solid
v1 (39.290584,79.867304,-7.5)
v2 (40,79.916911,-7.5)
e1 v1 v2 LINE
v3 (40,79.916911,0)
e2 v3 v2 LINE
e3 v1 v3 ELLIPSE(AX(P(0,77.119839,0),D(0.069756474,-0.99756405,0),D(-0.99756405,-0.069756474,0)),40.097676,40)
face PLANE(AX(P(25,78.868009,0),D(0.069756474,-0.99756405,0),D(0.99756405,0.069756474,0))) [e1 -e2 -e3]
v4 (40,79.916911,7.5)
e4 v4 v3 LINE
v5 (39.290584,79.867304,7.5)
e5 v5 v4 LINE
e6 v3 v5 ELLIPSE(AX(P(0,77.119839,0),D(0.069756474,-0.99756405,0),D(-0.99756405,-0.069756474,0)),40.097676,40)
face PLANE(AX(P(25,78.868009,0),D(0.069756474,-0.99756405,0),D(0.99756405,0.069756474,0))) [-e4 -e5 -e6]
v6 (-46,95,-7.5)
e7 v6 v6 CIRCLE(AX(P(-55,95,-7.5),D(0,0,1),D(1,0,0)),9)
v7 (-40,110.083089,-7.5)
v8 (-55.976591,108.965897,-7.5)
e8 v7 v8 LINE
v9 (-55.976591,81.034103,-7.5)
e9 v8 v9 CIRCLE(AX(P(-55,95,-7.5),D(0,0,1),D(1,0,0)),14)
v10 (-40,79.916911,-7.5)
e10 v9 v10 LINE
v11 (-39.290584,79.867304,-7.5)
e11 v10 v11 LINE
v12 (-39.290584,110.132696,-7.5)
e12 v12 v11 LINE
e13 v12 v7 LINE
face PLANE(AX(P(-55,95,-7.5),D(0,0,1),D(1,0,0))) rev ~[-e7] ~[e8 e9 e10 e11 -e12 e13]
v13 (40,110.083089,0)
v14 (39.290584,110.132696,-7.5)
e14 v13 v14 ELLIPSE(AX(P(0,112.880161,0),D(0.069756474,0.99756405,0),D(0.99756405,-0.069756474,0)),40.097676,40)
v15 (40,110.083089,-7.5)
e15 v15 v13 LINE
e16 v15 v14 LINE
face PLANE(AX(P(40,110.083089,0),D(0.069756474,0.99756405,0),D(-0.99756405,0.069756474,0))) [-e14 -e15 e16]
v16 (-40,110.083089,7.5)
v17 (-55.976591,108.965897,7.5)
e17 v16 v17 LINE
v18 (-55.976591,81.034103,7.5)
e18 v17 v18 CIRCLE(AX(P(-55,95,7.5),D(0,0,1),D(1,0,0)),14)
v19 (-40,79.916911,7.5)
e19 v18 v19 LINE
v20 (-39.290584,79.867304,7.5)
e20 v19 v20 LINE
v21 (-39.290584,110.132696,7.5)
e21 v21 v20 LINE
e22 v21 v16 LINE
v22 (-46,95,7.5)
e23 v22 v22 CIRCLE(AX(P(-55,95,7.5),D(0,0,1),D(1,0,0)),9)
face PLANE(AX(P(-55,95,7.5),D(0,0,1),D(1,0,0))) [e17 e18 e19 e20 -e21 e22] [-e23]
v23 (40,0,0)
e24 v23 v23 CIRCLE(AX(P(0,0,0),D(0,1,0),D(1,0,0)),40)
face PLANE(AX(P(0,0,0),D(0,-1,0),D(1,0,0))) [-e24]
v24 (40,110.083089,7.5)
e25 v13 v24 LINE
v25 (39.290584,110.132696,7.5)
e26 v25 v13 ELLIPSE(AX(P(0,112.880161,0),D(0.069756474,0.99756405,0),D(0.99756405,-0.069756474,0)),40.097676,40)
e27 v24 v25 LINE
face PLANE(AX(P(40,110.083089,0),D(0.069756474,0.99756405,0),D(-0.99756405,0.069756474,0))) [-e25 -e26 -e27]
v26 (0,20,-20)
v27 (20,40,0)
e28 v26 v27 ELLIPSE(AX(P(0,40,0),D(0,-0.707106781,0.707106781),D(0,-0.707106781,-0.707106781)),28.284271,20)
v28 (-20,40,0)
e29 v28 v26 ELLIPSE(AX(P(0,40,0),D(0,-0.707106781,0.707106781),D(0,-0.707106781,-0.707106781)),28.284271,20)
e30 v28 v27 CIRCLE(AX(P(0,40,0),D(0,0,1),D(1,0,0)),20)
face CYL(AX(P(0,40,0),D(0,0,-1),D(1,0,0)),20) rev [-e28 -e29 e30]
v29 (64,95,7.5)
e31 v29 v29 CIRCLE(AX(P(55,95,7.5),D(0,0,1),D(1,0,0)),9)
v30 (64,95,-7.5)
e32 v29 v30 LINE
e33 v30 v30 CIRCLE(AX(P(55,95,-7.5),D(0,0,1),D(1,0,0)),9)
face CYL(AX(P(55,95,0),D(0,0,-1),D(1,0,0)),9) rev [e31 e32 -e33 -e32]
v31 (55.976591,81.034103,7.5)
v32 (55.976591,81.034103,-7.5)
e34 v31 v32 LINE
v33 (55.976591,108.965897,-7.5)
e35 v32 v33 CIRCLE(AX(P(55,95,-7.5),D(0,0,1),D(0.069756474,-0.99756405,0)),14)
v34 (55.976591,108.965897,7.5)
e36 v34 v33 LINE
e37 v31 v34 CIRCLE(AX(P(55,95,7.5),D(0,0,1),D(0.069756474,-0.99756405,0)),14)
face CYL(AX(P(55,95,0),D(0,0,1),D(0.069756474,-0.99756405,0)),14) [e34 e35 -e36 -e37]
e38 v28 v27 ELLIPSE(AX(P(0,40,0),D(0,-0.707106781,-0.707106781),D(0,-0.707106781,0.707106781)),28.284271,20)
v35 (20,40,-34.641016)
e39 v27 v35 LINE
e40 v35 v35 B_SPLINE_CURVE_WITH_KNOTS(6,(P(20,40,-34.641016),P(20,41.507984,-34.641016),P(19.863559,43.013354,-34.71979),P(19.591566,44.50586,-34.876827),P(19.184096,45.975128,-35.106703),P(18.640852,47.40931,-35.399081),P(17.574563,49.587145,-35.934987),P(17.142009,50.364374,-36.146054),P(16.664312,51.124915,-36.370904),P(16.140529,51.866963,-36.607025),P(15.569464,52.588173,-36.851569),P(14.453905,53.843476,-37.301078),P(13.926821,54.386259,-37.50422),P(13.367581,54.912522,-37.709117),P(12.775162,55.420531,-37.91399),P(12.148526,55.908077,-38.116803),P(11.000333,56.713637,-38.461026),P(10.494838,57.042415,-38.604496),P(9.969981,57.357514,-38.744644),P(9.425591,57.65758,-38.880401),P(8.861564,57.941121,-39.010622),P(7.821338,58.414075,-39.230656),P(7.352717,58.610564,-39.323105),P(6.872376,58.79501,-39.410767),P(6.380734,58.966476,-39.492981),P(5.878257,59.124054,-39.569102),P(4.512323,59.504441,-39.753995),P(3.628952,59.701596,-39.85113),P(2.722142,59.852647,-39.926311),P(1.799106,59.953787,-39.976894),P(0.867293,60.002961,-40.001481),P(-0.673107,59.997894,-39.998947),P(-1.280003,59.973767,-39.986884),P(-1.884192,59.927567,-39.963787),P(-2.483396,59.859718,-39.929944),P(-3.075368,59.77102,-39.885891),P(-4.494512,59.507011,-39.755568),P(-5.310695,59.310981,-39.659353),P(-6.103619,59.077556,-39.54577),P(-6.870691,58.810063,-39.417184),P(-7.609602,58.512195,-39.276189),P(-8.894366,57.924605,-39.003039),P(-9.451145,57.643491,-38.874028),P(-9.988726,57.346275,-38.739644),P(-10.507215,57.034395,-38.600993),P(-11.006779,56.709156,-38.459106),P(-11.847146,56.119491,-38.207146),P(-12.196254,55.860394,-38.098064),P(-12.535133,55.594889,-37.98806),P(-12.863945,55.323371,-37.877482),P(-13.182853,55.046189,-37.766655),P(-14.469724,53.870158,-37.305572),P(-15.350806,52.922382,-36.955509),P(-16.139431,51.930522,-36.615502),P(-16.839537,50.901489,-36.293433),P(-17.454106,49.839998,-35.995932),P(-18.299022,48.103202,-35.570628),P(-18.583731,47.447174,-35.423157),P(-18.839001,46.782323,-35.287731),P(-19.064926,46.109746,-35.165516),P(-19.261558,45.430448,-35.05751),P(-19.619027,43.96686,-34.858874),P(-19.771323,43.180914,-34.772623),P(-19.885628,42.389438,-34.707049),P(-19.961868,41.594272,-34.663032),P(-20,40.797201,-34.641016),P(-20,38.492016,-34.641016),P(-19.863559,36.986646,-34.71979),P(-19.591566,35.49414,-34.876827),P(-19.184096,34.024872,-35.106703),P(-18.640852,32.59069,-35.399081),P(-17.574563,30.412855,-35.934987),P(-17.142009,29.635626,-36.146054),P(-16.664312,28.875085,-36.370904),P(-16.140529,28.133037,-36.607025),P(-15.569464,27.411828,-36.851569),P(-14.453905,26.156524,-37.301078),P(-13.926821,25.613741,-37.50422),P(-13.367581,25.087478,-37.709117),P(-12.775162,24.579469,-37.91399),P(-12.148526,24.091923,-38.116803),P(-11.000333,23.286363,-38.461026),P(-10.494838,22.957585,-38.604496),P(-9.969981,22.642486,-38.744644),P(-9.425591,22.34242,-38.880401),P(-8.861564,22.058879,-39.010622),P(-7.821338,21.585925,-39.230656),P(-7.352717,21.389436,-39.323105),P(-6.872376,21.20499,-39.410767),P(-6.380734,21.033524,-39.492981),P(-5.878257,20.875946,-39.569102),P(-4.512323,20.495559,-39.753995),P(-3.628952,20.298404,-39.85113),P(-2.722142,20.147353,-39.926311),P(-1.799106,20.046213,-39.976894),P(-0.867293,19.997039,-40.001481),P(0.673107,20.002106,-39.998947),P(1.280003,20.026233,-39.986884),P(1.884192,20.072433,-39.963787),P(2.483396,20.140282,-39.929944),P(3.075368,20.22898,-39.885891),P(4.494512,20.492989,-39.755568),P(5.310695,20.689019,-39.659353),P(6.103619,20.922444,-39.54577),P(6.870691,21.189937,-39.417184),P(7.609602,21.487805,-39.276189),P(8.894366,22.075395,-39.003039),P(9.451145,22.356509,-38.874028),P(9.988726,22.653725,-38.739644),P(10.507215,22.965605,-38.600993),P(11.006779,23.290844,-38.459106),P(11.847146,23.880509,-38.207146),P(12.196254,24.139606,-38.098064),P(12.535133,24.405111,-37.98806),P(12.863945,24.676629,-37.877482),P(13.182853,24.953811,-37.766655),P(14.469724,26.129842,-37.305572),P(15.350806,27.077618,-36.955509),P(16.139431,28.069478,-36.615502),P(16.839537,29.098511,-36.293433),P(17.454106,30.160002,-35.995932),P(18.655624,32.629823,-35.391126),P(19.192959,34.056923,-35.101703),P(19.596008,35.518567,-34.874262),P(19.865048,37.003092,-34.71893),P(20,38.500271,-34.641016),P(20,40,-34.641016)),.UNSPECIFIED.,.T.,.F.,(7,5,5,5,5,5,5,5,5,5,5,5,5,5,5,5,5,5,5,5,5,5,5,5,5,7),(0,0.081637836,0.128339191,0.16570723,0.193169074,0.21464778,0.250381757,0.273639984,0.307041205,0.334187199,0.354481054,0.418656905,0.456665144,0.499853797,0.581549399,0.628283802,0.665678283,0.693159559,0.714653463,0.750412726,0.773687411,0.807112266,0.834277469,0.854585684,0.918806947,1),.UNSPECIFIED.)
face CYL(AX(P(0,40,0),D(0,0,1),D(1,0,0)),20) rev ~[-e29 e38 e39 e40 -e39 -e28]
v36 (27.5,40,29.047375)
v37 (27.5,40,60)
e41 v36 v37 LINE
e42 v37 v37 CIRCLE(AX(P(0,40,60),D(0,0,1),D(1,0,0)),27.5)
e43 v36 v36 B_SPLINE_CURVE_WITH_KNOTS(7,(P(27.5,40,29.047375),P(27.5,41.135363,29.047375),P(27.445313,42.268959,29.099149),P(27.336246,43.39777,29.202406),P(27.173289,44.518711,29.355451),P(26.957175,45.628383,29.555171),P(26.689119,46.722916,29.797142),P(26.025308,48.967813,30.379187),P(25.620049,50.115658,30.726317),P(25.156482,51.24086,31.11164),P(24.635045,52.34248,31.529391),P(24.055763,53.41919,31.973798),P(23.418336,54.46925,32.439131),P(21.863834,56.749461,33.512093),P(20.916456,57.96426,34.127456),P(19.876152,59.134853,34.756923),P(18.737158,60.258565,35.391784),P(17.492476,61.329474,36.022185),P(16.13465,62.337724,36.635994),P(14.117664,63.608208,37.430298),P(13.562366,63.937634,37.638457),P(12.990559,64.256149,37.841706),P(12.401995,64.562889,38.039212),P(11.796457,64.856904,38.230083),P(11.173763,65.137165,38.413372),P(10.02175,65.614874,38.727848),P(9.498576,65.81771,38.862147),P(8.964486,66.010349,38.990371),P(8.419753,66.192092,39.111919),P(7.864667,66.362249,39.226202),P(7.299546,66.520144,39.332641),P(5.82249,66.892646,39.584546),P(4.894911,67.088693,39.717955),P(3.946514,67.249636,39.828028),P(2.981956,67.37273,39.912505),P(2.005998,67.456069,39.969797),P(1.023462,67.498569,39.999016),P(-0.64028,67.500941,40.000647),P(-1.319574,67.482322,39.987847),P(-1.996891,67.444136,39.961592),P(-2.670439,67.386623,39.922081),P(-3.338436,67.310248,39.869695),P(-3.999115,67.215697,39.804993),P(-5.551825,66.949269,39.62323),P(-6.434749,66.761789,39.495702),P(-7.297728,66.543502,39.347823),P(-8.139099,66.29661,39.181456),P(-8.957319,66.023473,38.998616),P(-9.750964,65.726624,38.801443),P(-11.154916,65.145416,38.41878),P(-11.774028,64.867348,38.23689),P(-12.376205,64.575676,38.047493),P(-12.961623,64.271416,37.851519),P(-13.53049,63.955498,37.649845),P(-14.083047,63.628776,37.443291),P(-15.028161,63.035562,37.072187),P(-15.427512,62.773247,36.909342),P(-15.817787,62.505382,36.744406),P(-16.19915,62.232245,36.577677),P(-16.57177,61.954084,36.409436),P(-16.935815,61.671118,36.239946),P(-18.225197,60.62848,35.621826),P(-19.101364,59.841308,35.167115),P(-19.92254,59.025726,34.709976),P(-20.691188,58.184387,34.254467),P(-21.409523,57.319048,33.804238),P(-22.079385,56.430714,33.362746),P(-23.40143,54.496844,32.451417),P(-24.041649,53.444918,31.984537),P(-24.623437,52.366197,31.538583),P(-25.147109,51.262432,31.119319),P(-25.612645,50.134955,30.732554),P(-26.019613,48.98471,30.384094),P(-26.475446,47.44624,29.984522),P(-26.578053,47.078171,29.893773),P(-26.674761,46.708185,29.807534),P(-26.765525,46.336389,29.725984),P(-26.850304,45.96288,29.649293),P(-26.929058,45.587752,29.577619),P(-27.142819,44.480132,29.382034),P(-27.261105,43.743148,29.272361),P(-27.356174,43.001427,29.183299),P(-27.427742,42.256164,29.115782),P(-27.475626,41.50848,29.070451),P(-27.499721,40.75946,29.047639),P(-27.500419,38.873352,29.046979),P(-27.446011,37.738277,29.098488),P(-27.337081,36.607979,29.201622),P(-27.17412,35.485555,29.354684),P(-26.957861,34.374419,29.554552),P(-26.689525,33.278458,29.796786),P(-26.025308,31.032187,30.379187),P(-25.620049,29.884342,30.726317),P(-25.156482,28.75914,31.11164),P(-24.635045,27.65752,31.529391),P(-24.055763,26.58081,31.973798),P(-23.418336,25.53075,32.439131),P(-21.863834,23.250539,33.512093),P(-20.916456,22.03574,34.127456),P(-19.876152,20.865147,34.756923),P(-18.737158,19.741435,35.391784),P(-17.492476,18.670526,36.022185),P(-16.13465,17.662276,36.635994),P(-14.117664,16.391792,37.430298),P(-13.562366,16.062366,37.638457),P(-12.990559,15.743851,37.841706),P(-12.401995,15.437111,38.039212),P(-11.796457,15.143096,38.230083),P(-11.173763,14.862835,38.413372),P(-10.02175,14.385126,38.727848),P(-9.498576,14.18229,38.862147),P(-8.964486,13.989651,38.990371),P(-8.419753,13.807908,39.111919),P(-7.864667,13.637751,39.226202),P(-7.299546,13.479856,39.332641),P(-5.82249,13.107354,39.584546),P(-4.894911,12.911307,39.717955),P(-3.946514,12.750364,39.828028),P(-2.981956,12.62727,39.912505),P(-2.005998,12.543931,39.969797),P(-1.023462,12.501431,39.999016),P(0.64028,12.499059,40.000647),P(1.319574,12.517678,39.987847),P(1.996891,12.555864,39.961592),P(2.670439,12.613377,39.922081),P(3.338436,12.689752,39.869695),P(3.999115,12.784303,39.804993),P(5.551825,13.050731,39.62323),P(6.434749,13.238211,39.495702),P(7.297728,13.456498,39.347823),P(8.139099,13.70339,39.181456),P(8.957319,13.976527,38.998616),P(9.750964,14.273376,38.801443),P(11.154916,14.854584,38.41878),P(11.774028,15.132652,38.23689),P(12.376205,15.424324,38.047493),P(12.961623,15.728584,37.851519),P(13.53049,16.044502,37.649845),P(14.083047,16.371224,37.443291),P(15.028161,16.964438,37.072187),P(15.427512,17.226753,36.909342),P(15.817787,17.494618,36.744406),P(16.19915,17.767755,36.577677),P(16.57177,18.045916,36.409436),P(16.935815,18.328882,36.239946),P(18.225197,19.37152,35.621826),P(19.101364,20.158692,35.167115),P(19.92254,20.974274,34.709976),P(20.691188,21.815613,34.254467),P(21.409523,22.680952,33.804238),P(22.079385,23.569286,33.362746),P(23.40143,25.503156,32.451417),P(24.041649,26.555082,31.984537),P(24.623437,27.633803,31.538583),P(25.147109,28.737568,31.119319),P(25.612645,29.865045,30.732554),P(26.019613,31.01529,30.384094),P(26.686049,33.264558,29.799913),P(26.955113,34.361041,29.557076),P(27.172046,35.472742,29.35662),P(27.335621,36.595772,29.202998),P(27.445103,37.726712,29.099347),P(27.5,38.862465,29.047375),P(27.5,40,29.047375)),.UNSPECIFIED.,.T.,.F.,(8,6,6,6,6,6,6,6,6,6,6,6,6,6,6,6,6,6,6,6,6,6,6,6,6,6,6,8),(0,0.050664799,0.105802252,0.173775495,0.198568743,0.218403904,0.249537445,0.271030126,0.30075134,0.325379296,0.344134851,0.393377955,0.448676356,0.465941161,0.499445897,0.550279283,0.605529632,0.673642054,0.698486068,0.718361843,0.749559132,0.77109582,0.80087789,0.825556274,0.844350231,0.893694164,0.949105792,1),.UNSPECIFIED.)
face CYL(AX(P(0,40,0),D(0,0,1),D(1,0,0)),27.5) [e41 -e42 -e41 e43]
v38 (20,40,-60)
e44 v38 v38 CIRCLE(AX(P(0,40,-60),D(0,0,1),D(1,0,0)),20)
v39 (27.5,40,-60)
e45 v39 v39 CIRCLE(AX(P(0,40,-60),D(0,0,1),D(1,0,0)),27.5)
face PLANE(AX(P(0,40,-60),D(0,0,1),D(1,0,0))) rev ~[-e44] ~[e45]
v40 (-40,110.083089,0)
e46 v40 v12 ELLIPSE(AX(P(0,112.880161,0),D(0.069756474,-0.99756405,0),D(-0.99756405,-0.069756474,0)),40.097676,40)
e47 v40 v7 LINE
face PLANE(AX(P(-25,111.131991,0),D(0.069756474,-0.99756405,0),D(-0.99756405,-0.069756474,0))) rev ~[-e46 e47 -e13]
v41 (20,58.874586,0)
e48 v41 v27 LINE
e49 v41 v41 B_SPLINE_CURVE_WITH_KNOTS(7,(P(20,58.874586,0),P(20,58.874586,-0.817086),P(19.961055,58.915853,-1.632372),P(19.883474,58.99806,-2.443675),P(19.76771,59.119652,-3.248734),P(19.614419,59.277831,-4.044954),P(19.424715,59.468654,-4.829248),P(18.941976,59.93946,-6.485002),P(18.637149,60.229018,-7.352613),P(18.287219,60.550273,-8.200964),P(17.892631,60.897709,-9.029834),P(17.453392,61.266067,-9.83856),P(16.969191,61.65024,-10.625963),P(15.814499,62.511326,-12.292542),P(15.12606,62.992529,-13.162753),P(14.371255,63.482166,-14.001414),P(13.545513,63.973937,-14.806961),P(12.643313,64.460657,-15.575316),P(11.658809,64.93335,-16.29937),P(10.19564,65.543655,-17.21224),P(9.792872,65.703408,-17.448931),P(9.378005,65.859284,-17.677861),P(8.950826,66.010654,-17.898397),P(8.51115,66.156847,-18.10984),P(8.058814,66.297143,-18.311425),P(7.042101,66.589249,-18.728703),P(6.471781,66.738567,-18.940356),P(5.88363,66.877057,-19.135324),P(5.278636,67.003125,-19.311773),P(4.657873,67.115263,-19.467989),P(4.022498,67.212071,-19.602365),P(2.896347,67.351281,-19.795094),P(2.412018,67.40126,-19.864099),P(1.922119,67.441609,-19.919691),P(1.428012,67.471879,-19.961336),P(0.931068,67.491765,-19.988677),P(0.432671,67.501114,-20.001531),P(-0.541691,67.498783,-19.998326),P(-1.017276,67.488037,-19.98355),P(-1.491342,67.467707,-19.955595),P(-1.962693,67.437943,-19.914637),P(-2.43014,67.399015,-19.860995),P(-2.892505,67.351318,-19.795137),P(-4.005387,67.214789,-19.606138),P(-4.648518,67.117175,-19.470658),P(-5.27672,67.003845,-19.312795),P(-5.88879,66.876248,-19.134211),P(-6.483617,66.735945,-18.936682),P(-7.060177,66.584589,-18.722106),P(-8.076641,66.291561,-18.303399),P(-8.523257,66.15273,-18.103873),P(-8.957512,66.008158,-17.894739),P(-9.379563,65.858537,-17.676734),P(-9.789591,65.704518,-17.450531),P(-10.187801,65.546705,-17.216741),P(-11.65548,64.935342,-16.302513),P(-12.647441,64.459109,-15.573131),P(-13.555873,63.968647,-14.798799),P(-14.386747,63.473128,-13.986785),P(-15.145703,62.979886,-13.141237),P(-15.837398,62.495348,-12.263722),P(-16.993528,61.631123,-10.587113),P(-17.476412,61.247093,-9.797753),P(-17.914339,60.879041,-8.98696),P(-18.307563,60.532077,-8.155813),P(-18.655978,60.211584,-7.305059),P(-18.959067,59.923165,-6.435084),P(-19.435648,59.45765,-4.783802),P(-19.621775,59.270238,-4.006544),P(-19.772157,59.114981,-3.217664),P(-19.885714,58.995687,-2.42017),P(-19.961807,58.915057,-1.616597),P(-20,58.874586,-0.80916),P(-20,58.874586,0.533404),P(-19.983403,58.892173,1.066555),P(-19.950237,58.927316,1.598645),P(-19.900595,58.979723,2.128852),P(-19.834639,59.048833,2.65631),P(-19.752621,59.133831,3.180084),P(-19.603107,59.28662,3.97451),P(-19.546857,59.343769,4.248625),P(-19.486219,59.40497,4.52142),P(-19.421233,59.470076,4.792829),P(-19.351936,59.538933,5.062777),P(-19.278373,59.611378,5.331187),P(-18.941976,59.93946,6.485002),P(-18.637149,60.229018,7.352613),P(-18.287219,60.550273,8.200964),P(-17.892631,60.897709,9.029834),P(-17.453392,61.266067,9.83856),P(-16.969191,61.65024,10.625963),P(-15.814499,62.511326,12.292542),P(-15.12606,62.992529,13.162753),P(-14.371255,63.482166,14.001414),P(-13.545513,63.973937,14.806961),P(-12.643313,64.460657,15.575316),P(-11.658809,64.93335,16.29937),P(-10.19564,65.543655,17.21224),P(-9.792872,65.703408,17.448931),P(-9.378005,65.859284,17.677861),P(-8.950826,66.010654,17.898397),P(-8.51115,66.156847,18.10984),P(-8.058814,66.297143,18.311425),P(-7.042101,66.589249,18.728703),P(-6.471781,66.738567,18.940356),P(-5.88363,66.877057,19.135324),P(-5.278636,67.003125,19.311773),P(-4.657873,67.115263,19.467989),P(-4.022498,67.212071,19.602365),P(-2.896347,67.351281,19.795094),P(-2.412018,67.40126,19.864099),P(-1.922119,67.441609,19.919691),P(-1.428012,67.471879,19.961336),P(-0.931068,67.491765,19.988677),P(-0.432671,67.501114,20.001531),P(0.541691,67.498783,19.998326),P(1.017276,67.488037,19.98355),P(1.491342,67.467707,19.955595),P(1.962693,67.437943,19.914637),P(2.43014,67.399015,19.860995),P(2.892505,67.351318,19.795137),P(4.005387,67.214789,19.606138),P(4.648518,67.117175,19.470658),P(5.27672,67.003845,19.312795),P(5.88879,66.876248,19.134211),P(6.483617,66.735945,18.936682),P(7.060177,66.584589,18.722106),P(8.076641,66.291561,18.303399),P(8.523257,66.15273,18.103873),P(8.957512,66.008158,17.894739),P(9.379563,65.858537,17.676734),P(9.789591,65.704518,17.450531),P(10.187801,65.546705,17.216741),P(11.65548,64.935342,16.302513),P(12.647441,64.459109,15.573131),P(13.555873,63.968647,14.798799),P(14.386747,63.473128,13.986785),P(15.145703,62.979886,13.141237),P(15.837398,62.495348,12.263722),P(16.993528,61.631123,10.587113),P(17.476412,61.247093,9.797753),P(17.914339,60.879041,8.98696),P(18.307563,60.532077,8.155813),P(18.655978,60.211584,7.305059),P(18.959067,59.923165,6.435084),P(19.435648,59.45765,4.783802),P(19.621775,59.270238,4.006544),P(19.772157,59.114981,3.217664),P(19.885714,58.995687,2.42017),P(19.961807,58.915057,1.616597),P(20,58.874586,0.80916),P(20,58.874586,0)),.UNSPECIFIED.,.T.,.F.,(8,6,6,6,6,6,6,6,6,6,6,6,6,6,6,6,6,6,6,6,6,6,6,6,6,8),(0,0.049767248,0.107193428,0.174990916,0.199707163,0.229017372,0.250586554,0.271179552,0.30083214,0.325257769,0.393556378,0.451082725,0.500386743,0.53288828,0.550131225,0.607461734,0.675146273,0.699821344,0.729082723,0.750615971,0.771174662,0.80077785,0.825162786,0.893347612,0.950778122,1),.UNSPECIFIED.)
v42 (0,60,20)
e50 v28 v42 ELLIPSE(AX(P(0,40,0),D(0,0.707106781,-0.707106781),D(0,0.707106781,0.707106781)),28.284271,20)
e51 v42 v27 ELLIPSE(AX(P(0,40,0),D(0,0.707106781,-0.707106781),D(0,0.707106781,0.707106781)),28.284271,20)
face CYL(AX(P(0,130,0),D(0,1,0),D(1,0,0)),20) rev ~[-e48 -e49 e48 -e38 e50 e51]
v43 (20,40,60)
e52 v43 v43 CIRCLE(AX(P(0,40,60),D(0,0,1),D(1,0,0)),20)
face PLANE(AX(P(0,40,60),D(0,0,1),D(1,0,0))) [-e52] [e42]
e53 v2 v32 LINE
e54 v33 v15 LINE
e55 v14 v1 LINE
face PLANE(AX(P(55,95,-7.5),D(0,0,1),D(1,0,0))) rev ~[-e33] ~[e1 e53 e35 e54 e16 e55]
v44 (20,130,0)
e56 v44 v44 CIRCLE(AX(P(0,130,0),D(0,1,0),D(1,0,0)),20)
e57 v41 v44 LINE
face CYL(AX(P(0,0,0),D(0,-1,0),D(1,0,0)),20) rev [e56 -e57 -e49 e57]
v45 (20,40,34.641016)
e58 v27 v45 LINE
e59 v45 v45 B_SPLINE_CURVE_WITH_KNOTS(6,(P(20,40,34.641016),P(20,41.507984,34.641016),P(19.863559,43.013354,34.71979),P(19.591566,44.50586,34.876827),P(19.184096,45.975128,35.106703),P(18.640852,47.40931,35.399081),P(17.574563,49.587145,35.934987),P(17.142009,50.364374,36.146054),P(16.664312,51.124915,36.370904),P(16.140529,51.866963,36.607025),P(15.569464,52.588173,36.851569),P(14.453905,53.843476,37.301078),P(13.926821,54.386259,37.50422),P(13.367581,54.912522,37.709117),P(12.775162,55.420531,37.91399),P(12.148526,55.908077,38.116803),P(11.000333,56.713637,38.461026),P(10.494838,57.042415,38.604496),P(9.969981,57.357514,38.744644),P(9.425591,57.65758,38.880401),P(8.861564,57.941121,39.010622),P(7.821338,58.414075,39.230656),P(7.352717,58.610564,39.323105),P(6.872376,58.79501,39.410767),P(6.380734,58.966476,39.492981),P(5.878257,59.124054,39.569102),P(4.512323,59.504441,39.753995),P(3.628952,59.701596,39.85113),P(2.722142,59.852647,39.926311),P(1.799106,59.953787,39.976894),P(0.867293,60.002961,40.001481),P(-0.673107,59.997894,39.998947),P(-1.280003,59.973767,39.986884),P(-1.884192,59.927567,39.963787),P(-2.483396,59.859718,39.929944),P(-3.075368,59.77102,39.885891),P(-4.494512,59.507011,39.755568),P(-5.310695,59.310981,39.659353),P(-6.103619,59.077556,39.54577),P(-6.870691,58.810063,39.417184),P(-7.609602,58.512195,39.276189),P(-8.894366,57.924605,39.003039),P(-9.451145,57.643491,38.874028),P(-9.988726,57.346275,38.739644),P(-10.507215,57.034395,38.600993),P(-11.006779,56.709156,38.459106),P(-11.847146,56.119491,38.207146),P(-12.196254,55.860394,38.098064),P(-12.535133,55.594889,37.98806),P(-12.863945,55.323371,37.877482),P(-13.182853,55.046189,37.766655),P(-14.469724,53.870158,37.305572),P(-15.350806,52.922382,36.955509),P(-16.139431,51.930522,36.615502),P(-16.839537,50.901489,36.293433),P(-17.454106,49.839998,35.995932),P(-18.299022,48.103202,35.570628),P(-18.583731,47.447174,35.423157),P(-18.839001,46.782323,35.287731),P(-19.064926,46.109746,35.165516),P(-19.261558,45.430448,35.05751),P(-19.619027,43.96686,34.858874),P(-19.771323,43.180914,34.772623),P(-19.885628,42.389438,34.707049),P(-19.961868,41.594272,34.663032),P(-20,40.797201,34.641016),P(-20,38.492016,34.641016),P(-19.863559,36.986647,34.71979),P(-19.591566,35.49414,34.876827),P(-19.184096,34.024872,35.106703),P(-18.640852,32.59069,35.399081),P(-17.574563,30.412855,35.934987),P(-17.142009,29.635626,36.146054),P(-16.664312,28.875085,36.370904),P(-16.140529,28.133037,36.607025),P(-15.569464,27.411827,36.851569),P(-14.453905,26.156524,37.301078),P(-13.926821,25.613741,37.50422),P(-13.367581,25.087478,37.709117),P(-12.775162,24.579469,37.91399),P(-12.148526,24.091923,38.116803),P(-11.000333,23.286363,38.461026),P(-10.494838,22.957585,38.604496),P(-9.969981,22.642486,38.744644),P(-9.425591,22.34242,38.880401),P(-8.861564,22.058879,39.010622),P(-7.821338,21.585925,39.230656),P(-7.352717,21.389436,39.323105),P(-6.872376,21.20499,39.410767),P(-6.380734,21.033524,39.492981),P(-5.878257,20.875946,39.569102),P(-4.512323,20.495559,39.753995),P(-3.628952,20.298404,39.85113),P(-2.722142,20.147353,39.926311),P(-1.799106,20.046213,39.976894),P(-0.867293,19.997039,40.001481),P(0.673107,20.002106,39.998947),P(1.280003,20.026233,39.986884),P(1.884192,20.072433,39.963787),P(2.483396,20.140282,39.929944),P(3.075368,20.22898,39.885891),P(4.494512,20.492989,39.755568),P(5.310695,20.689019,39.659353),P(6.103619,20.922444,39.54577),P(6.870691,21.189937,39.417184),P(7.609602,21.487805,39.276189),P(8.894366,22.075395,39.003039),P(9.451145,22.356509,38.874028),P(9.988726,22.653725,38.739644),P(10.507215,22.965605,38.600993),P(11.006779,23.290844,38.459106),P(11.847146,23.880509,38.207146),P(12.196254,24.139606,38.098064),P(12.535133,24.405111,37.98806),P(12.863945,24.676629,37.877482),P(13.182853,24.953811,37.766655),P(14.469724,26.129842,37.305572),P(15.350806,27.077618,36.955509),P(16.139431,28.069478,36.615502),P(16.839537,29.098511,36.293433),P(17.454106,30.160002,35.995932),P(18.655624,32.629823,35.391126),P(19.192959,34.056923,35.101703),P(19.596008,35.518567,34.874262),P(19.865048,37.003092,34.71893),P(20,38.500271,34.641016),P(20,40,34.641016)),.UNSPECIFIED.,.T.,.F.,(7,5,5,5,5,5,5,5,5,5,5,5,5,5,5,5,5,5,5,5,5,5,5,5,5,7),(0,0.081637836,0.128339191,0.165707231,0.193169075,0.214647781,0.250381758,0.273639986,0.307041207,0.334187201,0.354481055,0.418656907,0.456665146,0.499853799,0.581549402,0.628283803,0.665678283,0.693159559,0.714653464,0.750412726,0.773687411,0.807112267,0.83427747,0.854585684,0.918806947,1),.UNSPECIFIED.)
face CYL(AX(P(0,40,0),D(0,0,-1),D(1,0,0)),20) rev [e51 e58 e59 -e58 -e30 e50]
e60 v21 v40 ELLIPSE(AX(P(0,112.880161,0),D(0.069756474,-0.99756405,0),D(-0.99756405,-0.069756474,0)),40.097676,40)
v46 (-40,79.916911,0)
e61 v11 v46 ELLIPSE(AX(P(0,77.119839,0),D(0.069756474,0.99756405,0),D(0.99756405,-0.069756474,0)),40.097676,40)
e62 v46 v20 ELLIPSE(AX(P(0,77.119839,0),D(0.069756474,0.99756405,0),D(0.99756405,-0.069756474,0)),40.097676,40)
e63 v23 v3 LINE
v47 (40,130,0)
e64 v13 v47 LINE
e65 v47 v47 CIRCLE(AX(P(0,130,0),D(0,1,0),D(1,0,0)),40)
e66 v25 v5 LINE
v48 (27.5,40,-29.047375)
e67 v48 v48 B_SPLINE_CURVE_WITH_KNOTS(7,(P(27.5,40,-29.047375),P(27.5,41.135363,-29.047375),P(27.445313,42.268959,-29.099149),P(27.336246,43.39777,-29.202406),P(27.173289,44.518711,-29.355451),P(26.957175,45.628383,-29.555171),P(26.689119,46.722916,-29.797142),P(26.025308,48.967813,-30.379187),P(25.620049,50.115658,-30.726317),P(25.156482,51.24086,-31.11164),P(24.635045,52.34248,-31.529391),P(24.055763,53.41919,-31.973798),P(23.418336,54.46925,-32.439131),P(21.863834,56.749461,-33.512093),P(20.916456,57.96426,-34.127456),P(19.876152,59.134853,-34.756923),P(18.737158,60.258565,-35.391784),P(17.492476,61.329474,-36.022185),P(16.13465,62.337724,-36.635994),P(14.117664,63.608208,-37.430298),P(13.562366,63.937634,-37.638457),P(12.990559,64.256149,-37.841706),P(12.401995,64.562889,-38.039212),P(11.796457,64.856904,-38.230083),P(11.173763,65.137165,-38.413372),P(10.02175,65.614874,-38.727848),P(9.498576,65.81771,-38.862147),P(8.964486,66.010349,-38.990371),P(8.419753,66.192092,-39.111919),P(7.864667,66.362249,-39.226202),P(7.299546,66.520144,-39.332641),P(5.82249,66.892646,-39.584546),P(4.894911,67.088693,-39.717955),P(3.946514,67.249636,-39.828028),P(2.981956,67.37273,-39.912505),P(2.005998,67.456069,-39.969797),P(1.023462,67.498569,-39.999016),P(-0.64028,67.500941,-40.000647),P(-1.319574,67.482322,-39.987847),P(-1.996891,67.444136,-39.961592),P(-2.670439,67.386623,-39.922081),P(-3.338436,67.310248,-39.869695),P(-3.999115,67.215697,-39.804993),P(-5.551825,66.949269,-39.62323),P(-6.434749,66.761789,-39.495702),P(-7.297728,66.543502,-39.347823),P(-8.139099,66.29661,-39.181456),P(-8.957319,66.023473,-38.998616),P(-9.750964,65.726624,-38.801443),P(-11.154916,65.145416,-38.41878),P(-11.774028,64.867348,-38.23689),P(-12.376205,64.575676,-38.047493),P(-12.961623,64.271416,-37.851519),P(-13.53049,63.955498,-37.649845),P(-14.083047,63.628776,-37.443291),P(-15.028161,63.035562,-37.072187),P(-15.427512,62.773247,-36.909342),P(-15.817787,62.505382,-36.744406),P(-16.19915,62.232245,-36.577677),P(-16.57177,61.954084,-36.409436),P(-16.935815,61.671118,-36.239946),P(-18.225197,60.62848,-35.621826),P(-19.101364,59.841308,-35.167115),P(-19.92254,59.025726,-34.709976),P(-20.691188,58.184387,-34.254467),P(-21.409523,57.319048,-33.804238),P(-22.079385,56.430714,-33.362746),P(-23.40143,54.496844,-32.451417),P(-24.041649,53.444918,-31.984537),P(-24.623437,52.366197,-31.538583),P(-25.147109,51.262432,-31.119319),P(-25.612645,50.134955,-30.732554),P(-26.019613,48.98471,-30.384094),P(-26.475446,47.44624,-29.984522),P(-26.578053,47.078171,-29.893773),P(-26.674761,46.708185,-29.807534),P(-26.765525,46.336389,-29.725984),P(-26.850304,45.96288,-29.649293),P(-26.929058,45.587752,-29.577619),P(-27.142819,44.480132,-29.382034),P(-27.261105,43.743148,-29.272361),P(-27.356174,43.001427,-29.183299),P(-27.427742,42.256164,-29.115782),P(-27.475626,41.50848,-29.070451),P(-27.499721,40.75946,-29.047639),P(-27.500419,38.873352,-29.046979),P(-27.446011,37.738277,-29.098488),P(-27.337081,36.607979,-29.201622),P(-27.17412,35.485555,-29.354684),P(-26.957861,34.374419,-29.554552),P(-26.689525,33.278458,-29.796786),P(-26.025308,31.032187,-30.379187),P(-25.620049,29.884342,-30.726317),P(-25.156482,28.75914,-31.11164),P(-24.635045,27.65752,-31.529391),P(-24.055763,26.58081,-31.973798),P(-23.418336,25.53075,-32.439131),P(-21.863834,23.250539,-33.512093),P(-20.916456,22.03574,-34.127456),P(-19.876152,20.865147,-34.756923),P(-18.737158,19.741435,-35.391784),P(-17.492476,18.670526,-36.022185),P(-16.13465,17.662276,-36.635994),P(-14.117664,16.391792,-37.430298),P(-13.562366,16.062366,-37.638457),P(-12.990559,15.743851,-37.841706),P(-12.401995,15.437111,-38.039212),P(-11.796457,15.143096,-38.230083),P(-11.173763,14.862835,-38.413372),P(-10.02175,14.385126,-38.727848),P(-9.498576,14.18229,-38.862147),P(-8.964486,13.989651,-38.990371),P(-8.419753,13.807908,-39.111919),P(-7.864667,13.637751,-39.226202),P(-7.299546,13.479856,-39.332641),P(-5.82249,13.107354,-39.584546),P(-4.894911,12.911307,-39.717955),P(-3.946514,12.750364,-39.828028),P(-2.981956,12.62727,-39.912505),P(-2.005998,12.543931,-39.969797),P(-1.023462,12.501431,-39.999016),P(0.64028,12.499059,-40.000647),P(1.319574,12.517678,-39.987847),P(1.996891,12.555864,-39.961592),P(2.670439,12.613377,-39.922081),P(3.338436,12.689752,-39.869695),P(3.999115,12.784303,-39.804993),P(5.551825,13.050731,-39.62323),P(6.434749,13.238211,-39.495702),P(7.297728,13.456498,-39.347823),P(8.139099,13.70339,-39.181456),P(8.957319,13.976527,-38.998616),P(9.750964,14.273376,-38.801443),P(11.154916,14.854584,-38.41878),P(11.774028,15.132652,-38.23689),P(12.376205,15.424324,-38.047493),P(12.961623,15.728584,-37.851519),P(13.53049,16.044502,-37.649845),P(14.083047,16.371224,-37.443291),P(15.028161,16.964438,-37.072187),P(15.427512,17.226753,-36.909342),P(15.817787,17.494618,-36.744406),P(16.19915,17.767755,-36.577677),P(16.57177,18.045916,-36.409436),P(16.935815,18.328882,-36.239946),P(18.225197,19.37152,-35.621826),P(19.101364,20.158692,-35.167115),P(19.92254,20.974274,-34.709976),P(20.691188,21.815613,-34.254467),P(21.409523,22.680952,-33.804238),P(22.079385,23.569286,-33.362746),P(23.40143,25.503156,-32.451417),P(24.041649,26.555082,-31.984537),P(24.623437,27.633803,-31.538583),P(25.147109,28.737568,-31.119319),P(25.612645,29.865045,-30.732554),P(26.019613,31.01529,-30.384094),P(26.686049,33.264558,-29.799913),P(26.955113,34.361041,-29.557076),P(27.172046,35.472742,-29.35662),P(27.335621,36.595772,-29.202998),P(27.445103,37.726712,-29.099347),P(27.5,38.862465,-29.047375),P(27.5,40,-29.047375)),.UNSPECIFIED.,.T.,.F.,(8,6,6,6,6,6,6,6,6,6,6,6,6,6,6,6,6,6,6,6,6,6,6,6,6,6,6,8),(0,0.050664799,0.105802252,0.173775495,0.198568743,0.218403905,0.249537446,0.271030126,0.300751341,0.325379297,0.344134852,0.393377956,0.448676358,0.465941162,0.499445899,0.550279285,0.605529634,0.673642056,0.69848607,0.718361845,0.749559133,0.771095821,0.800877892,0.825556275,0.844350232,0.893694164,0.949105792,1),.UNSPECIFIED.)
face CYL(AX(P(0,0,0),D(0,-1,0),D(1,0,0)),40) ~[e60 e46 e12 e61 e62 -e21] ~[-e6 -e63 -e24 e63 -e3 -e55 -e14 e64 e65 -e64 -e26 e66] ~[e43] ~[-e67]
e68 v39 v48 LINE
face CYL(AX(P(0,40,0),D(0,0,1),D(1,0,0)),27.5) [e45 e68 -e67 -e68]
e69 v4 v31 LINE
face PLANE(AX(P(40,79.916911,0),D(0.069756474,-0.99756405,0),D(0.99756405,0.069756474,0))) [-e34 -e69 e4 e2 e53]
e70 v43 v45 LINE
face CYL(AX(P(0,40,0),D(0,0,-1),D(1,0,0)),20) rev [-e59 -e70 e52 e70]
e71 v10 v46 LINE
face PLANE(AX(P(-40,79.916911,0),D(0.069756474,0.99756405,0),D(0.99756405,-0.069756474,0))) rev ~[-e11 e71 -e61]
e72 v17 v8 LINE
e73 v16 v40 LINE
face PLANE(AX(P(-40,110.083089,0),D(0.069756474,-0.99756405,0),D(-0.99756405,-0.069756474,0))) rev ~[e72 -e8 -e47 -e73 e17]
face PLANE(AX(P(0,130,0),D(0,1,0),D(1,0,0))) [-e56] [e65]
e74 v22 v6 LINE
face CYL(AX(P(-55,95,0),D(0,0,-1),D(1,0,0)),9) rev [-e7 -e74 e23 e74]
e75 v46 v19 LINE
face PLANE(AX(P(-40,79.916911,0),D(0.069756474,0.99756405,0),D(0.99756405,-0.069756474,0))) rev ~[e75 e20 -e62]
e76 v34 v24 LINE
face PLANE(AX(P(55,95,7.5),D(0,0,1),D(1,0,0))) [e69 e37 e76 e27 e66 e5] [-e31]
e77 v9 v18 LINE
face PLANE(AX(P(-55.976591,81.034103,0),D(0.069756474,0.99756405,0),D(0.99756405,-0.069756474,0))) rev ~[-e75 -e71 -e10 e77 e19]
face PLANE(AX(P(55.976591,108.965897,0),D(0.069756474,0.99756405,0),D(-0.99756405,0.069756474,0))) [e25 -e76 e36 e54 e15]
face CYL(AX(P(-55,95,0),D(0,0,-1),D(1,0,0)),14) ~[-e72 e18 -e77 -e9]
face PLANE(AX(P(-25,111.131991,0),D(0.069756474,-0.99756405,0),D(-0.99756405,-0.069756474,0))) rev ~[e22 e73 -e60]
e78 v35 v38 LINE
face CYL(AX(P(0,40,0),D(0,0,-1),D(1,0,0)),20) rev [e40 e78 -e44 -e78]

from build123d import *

# Parameters (mm, degrees)
SKETCH1_R                      = 40
SKETCH1_R_2                    = 20
BOSS_EXTRUDE1_DEPTH            = 130
SKETCH2_R                      = 27.5
SKETCH2_R_2                    = 20
BOSS_EXTRUDE2_DEPTH            = 60
SKETCH2_2_R                    = 20
CUT_EXTRUDE1_DEPTH             = 61.0000001
CUT_EXTRUDE1_DEPTH_BACK        = 61.0000001
SKETCH3_R                      = 14
SKETCH3_R_2                    = 9
BOSS_EXTRUDE3_DEPTH            = 7.5
CUT_EXTRUDE2_REACH             = 132
SKETCH4_R                      = 20
CUT_EXTRUDE2_DIRECTION_2_DEPTH = 1.0000001
BOSS_EXTRUDE4_REACH            = 132
SKETCH5_R                      = 20


with BuildPart() as part:
    # Sketch1 → Boss-Extrude1 (new body)
    with BuildSketch(Plane(origin=(0, 0, 0), x_dir=(1, 0, 0), z_dir=(0, 1, 0))):
        Circle(SKETCH1_R)
        Circle(SKETCH1_R_2, mode=Mode.SUBTRACT)
    extrude(amount=BOSS_EXTRUDE1_DEPTH)

    # Sketch2 → Boss-Extrude2 (add, symmetric)
    with BuildSketch(Plane.XY):
        with Locations((0, 40)):
            Circle(SKETCH2_R)
        with Locations((0, 40)):
            Circle(SKETCH2_R_2, mode=Mode.SUBTRACT)
    extrude(amount=BOSS_EXTRUDE2_DEPTH, both=True)

    # Sketch2<2> → Cut-Extrude1 (cut, two sides)
    with BuildSketch(Plane.XY) as cut_extrude1_sk:
        with Locations((0, 40)):
            Circle(SKETCH2_2_R)
    extrude(amount=CUT_EXTRUDE1_DEPTH, mode=Mode.SUBTRACT)
    extrude(cut_extrude1_sk.sketch, amount=-CUT_EXTRUDE1_DEPTH_BACK, mode=Mode.SUBTRACT)

    # Sketch3 → Boss-Extrude3 (add, symmetric)
    with BuildSketch(Plane.XY):
        with Locations((-55, 95)):
            Circle(SKETCH3_R)
        with Locations((-55, 95)):
            Circle(SKETCH3_R_2, mode=Mode.SUBTRACT)
        with BuildLine():
            Line((-25, 111.131990931), (-40, 110.083088752))
            Line((-40, 110.083088752), (-55.976590632, 108.965896704))
            ThreePointArc((-55.976590632, 108.965896704), (-45.452022959, 105.238951823), (-41, 95))
            ThreePointArc((-41, 95), (-45.452022959, 84.761048177), (-55.976590632, 81.034103296))
            Line((-55.976590632, 81.034103296), (-40, 79.916911248))
            Line((-40, 79.916911248), (-25, 78.868009069))
            Line((-25, 78.868009069), (-25, 111.131990931))
        make_face()
        with Locations((55, 95)):
            Circle(SKETCH3_R)
        with Locations((55, 95)):
            Circle(SKETCH3_R_2, mode=Mode.SUBTRACT)
        with BuildLine():
            Line((55.976590632, 108.965896704), (40, 110.083088752))
            Line((40, 110.083088752), (25, 111.131990931))
            Line((25, 111.131990931), (25, 78.868009069))
            Line((25, 78.868009069), (40, 79.916911248))
            Line((40, 79.916911248), (55.976590632, 81.034103296))
            ThreePointArc((55.976590632, 81.034103296), (41, 95), (55.976590632, 108.965896704))
        make_face()
    extrude(amount=BOSS_EXTRUDE3_DEPTH, both=True)

    # Sketch4 → Cut-Extrude2 (cut, up to next)
    with BuildSketch(Plane(origin=(0, 130, 0), x_dir=(1, 0, 0), z_dir=(0, 1, 0)), mode=Mode.PRIVATE) as cut_extrude2_sk1:
        Circle(SKETCH4_R)
    cut_extrude2_tool1 = extrude(cut_extrude2_sk1.sketch, amount=-CUT_EXTRUDE2_REACH, mode=Mode.PRIVATE) & part.part
    add(cut_extrude2_tool1.solids().sort_by_distance((0, 130, 0))[0], mode=Mode.SUBTRACT)

    # Sketch4 → Cut-Extrude2 direction 2 (cut)
    with BuildSketch(Plane(origin=(0, 130, 0), x_dir=(1, 0, 0), z_dir=(0, 1, 0))):
        Circle(SKETCH4_R)
    extrude(amount=CUT_EXTRUDE2_DIRECTION_2_DEPTH, mode=Mode.SUBTRACT)

    # Sketch5 → Boss-Extrude4 (add, up to next)
    with BuildSketch(Plane.XZ, mode=Mode.PRIVATE) as boss_extrude4_sk1:
        Circle(SKETCH5_R)
    boss_extrude4_tool1 = extrude(boss_extrude4_sk1.sketch, amount=-BOSS_EXTRUDE4_REACH, mode=Mode.PRIVATE) - part.part
    add(boss_extrude4_tool1.solids().sort_by_distance((0, 0, 0))[0])


solid = part.part
